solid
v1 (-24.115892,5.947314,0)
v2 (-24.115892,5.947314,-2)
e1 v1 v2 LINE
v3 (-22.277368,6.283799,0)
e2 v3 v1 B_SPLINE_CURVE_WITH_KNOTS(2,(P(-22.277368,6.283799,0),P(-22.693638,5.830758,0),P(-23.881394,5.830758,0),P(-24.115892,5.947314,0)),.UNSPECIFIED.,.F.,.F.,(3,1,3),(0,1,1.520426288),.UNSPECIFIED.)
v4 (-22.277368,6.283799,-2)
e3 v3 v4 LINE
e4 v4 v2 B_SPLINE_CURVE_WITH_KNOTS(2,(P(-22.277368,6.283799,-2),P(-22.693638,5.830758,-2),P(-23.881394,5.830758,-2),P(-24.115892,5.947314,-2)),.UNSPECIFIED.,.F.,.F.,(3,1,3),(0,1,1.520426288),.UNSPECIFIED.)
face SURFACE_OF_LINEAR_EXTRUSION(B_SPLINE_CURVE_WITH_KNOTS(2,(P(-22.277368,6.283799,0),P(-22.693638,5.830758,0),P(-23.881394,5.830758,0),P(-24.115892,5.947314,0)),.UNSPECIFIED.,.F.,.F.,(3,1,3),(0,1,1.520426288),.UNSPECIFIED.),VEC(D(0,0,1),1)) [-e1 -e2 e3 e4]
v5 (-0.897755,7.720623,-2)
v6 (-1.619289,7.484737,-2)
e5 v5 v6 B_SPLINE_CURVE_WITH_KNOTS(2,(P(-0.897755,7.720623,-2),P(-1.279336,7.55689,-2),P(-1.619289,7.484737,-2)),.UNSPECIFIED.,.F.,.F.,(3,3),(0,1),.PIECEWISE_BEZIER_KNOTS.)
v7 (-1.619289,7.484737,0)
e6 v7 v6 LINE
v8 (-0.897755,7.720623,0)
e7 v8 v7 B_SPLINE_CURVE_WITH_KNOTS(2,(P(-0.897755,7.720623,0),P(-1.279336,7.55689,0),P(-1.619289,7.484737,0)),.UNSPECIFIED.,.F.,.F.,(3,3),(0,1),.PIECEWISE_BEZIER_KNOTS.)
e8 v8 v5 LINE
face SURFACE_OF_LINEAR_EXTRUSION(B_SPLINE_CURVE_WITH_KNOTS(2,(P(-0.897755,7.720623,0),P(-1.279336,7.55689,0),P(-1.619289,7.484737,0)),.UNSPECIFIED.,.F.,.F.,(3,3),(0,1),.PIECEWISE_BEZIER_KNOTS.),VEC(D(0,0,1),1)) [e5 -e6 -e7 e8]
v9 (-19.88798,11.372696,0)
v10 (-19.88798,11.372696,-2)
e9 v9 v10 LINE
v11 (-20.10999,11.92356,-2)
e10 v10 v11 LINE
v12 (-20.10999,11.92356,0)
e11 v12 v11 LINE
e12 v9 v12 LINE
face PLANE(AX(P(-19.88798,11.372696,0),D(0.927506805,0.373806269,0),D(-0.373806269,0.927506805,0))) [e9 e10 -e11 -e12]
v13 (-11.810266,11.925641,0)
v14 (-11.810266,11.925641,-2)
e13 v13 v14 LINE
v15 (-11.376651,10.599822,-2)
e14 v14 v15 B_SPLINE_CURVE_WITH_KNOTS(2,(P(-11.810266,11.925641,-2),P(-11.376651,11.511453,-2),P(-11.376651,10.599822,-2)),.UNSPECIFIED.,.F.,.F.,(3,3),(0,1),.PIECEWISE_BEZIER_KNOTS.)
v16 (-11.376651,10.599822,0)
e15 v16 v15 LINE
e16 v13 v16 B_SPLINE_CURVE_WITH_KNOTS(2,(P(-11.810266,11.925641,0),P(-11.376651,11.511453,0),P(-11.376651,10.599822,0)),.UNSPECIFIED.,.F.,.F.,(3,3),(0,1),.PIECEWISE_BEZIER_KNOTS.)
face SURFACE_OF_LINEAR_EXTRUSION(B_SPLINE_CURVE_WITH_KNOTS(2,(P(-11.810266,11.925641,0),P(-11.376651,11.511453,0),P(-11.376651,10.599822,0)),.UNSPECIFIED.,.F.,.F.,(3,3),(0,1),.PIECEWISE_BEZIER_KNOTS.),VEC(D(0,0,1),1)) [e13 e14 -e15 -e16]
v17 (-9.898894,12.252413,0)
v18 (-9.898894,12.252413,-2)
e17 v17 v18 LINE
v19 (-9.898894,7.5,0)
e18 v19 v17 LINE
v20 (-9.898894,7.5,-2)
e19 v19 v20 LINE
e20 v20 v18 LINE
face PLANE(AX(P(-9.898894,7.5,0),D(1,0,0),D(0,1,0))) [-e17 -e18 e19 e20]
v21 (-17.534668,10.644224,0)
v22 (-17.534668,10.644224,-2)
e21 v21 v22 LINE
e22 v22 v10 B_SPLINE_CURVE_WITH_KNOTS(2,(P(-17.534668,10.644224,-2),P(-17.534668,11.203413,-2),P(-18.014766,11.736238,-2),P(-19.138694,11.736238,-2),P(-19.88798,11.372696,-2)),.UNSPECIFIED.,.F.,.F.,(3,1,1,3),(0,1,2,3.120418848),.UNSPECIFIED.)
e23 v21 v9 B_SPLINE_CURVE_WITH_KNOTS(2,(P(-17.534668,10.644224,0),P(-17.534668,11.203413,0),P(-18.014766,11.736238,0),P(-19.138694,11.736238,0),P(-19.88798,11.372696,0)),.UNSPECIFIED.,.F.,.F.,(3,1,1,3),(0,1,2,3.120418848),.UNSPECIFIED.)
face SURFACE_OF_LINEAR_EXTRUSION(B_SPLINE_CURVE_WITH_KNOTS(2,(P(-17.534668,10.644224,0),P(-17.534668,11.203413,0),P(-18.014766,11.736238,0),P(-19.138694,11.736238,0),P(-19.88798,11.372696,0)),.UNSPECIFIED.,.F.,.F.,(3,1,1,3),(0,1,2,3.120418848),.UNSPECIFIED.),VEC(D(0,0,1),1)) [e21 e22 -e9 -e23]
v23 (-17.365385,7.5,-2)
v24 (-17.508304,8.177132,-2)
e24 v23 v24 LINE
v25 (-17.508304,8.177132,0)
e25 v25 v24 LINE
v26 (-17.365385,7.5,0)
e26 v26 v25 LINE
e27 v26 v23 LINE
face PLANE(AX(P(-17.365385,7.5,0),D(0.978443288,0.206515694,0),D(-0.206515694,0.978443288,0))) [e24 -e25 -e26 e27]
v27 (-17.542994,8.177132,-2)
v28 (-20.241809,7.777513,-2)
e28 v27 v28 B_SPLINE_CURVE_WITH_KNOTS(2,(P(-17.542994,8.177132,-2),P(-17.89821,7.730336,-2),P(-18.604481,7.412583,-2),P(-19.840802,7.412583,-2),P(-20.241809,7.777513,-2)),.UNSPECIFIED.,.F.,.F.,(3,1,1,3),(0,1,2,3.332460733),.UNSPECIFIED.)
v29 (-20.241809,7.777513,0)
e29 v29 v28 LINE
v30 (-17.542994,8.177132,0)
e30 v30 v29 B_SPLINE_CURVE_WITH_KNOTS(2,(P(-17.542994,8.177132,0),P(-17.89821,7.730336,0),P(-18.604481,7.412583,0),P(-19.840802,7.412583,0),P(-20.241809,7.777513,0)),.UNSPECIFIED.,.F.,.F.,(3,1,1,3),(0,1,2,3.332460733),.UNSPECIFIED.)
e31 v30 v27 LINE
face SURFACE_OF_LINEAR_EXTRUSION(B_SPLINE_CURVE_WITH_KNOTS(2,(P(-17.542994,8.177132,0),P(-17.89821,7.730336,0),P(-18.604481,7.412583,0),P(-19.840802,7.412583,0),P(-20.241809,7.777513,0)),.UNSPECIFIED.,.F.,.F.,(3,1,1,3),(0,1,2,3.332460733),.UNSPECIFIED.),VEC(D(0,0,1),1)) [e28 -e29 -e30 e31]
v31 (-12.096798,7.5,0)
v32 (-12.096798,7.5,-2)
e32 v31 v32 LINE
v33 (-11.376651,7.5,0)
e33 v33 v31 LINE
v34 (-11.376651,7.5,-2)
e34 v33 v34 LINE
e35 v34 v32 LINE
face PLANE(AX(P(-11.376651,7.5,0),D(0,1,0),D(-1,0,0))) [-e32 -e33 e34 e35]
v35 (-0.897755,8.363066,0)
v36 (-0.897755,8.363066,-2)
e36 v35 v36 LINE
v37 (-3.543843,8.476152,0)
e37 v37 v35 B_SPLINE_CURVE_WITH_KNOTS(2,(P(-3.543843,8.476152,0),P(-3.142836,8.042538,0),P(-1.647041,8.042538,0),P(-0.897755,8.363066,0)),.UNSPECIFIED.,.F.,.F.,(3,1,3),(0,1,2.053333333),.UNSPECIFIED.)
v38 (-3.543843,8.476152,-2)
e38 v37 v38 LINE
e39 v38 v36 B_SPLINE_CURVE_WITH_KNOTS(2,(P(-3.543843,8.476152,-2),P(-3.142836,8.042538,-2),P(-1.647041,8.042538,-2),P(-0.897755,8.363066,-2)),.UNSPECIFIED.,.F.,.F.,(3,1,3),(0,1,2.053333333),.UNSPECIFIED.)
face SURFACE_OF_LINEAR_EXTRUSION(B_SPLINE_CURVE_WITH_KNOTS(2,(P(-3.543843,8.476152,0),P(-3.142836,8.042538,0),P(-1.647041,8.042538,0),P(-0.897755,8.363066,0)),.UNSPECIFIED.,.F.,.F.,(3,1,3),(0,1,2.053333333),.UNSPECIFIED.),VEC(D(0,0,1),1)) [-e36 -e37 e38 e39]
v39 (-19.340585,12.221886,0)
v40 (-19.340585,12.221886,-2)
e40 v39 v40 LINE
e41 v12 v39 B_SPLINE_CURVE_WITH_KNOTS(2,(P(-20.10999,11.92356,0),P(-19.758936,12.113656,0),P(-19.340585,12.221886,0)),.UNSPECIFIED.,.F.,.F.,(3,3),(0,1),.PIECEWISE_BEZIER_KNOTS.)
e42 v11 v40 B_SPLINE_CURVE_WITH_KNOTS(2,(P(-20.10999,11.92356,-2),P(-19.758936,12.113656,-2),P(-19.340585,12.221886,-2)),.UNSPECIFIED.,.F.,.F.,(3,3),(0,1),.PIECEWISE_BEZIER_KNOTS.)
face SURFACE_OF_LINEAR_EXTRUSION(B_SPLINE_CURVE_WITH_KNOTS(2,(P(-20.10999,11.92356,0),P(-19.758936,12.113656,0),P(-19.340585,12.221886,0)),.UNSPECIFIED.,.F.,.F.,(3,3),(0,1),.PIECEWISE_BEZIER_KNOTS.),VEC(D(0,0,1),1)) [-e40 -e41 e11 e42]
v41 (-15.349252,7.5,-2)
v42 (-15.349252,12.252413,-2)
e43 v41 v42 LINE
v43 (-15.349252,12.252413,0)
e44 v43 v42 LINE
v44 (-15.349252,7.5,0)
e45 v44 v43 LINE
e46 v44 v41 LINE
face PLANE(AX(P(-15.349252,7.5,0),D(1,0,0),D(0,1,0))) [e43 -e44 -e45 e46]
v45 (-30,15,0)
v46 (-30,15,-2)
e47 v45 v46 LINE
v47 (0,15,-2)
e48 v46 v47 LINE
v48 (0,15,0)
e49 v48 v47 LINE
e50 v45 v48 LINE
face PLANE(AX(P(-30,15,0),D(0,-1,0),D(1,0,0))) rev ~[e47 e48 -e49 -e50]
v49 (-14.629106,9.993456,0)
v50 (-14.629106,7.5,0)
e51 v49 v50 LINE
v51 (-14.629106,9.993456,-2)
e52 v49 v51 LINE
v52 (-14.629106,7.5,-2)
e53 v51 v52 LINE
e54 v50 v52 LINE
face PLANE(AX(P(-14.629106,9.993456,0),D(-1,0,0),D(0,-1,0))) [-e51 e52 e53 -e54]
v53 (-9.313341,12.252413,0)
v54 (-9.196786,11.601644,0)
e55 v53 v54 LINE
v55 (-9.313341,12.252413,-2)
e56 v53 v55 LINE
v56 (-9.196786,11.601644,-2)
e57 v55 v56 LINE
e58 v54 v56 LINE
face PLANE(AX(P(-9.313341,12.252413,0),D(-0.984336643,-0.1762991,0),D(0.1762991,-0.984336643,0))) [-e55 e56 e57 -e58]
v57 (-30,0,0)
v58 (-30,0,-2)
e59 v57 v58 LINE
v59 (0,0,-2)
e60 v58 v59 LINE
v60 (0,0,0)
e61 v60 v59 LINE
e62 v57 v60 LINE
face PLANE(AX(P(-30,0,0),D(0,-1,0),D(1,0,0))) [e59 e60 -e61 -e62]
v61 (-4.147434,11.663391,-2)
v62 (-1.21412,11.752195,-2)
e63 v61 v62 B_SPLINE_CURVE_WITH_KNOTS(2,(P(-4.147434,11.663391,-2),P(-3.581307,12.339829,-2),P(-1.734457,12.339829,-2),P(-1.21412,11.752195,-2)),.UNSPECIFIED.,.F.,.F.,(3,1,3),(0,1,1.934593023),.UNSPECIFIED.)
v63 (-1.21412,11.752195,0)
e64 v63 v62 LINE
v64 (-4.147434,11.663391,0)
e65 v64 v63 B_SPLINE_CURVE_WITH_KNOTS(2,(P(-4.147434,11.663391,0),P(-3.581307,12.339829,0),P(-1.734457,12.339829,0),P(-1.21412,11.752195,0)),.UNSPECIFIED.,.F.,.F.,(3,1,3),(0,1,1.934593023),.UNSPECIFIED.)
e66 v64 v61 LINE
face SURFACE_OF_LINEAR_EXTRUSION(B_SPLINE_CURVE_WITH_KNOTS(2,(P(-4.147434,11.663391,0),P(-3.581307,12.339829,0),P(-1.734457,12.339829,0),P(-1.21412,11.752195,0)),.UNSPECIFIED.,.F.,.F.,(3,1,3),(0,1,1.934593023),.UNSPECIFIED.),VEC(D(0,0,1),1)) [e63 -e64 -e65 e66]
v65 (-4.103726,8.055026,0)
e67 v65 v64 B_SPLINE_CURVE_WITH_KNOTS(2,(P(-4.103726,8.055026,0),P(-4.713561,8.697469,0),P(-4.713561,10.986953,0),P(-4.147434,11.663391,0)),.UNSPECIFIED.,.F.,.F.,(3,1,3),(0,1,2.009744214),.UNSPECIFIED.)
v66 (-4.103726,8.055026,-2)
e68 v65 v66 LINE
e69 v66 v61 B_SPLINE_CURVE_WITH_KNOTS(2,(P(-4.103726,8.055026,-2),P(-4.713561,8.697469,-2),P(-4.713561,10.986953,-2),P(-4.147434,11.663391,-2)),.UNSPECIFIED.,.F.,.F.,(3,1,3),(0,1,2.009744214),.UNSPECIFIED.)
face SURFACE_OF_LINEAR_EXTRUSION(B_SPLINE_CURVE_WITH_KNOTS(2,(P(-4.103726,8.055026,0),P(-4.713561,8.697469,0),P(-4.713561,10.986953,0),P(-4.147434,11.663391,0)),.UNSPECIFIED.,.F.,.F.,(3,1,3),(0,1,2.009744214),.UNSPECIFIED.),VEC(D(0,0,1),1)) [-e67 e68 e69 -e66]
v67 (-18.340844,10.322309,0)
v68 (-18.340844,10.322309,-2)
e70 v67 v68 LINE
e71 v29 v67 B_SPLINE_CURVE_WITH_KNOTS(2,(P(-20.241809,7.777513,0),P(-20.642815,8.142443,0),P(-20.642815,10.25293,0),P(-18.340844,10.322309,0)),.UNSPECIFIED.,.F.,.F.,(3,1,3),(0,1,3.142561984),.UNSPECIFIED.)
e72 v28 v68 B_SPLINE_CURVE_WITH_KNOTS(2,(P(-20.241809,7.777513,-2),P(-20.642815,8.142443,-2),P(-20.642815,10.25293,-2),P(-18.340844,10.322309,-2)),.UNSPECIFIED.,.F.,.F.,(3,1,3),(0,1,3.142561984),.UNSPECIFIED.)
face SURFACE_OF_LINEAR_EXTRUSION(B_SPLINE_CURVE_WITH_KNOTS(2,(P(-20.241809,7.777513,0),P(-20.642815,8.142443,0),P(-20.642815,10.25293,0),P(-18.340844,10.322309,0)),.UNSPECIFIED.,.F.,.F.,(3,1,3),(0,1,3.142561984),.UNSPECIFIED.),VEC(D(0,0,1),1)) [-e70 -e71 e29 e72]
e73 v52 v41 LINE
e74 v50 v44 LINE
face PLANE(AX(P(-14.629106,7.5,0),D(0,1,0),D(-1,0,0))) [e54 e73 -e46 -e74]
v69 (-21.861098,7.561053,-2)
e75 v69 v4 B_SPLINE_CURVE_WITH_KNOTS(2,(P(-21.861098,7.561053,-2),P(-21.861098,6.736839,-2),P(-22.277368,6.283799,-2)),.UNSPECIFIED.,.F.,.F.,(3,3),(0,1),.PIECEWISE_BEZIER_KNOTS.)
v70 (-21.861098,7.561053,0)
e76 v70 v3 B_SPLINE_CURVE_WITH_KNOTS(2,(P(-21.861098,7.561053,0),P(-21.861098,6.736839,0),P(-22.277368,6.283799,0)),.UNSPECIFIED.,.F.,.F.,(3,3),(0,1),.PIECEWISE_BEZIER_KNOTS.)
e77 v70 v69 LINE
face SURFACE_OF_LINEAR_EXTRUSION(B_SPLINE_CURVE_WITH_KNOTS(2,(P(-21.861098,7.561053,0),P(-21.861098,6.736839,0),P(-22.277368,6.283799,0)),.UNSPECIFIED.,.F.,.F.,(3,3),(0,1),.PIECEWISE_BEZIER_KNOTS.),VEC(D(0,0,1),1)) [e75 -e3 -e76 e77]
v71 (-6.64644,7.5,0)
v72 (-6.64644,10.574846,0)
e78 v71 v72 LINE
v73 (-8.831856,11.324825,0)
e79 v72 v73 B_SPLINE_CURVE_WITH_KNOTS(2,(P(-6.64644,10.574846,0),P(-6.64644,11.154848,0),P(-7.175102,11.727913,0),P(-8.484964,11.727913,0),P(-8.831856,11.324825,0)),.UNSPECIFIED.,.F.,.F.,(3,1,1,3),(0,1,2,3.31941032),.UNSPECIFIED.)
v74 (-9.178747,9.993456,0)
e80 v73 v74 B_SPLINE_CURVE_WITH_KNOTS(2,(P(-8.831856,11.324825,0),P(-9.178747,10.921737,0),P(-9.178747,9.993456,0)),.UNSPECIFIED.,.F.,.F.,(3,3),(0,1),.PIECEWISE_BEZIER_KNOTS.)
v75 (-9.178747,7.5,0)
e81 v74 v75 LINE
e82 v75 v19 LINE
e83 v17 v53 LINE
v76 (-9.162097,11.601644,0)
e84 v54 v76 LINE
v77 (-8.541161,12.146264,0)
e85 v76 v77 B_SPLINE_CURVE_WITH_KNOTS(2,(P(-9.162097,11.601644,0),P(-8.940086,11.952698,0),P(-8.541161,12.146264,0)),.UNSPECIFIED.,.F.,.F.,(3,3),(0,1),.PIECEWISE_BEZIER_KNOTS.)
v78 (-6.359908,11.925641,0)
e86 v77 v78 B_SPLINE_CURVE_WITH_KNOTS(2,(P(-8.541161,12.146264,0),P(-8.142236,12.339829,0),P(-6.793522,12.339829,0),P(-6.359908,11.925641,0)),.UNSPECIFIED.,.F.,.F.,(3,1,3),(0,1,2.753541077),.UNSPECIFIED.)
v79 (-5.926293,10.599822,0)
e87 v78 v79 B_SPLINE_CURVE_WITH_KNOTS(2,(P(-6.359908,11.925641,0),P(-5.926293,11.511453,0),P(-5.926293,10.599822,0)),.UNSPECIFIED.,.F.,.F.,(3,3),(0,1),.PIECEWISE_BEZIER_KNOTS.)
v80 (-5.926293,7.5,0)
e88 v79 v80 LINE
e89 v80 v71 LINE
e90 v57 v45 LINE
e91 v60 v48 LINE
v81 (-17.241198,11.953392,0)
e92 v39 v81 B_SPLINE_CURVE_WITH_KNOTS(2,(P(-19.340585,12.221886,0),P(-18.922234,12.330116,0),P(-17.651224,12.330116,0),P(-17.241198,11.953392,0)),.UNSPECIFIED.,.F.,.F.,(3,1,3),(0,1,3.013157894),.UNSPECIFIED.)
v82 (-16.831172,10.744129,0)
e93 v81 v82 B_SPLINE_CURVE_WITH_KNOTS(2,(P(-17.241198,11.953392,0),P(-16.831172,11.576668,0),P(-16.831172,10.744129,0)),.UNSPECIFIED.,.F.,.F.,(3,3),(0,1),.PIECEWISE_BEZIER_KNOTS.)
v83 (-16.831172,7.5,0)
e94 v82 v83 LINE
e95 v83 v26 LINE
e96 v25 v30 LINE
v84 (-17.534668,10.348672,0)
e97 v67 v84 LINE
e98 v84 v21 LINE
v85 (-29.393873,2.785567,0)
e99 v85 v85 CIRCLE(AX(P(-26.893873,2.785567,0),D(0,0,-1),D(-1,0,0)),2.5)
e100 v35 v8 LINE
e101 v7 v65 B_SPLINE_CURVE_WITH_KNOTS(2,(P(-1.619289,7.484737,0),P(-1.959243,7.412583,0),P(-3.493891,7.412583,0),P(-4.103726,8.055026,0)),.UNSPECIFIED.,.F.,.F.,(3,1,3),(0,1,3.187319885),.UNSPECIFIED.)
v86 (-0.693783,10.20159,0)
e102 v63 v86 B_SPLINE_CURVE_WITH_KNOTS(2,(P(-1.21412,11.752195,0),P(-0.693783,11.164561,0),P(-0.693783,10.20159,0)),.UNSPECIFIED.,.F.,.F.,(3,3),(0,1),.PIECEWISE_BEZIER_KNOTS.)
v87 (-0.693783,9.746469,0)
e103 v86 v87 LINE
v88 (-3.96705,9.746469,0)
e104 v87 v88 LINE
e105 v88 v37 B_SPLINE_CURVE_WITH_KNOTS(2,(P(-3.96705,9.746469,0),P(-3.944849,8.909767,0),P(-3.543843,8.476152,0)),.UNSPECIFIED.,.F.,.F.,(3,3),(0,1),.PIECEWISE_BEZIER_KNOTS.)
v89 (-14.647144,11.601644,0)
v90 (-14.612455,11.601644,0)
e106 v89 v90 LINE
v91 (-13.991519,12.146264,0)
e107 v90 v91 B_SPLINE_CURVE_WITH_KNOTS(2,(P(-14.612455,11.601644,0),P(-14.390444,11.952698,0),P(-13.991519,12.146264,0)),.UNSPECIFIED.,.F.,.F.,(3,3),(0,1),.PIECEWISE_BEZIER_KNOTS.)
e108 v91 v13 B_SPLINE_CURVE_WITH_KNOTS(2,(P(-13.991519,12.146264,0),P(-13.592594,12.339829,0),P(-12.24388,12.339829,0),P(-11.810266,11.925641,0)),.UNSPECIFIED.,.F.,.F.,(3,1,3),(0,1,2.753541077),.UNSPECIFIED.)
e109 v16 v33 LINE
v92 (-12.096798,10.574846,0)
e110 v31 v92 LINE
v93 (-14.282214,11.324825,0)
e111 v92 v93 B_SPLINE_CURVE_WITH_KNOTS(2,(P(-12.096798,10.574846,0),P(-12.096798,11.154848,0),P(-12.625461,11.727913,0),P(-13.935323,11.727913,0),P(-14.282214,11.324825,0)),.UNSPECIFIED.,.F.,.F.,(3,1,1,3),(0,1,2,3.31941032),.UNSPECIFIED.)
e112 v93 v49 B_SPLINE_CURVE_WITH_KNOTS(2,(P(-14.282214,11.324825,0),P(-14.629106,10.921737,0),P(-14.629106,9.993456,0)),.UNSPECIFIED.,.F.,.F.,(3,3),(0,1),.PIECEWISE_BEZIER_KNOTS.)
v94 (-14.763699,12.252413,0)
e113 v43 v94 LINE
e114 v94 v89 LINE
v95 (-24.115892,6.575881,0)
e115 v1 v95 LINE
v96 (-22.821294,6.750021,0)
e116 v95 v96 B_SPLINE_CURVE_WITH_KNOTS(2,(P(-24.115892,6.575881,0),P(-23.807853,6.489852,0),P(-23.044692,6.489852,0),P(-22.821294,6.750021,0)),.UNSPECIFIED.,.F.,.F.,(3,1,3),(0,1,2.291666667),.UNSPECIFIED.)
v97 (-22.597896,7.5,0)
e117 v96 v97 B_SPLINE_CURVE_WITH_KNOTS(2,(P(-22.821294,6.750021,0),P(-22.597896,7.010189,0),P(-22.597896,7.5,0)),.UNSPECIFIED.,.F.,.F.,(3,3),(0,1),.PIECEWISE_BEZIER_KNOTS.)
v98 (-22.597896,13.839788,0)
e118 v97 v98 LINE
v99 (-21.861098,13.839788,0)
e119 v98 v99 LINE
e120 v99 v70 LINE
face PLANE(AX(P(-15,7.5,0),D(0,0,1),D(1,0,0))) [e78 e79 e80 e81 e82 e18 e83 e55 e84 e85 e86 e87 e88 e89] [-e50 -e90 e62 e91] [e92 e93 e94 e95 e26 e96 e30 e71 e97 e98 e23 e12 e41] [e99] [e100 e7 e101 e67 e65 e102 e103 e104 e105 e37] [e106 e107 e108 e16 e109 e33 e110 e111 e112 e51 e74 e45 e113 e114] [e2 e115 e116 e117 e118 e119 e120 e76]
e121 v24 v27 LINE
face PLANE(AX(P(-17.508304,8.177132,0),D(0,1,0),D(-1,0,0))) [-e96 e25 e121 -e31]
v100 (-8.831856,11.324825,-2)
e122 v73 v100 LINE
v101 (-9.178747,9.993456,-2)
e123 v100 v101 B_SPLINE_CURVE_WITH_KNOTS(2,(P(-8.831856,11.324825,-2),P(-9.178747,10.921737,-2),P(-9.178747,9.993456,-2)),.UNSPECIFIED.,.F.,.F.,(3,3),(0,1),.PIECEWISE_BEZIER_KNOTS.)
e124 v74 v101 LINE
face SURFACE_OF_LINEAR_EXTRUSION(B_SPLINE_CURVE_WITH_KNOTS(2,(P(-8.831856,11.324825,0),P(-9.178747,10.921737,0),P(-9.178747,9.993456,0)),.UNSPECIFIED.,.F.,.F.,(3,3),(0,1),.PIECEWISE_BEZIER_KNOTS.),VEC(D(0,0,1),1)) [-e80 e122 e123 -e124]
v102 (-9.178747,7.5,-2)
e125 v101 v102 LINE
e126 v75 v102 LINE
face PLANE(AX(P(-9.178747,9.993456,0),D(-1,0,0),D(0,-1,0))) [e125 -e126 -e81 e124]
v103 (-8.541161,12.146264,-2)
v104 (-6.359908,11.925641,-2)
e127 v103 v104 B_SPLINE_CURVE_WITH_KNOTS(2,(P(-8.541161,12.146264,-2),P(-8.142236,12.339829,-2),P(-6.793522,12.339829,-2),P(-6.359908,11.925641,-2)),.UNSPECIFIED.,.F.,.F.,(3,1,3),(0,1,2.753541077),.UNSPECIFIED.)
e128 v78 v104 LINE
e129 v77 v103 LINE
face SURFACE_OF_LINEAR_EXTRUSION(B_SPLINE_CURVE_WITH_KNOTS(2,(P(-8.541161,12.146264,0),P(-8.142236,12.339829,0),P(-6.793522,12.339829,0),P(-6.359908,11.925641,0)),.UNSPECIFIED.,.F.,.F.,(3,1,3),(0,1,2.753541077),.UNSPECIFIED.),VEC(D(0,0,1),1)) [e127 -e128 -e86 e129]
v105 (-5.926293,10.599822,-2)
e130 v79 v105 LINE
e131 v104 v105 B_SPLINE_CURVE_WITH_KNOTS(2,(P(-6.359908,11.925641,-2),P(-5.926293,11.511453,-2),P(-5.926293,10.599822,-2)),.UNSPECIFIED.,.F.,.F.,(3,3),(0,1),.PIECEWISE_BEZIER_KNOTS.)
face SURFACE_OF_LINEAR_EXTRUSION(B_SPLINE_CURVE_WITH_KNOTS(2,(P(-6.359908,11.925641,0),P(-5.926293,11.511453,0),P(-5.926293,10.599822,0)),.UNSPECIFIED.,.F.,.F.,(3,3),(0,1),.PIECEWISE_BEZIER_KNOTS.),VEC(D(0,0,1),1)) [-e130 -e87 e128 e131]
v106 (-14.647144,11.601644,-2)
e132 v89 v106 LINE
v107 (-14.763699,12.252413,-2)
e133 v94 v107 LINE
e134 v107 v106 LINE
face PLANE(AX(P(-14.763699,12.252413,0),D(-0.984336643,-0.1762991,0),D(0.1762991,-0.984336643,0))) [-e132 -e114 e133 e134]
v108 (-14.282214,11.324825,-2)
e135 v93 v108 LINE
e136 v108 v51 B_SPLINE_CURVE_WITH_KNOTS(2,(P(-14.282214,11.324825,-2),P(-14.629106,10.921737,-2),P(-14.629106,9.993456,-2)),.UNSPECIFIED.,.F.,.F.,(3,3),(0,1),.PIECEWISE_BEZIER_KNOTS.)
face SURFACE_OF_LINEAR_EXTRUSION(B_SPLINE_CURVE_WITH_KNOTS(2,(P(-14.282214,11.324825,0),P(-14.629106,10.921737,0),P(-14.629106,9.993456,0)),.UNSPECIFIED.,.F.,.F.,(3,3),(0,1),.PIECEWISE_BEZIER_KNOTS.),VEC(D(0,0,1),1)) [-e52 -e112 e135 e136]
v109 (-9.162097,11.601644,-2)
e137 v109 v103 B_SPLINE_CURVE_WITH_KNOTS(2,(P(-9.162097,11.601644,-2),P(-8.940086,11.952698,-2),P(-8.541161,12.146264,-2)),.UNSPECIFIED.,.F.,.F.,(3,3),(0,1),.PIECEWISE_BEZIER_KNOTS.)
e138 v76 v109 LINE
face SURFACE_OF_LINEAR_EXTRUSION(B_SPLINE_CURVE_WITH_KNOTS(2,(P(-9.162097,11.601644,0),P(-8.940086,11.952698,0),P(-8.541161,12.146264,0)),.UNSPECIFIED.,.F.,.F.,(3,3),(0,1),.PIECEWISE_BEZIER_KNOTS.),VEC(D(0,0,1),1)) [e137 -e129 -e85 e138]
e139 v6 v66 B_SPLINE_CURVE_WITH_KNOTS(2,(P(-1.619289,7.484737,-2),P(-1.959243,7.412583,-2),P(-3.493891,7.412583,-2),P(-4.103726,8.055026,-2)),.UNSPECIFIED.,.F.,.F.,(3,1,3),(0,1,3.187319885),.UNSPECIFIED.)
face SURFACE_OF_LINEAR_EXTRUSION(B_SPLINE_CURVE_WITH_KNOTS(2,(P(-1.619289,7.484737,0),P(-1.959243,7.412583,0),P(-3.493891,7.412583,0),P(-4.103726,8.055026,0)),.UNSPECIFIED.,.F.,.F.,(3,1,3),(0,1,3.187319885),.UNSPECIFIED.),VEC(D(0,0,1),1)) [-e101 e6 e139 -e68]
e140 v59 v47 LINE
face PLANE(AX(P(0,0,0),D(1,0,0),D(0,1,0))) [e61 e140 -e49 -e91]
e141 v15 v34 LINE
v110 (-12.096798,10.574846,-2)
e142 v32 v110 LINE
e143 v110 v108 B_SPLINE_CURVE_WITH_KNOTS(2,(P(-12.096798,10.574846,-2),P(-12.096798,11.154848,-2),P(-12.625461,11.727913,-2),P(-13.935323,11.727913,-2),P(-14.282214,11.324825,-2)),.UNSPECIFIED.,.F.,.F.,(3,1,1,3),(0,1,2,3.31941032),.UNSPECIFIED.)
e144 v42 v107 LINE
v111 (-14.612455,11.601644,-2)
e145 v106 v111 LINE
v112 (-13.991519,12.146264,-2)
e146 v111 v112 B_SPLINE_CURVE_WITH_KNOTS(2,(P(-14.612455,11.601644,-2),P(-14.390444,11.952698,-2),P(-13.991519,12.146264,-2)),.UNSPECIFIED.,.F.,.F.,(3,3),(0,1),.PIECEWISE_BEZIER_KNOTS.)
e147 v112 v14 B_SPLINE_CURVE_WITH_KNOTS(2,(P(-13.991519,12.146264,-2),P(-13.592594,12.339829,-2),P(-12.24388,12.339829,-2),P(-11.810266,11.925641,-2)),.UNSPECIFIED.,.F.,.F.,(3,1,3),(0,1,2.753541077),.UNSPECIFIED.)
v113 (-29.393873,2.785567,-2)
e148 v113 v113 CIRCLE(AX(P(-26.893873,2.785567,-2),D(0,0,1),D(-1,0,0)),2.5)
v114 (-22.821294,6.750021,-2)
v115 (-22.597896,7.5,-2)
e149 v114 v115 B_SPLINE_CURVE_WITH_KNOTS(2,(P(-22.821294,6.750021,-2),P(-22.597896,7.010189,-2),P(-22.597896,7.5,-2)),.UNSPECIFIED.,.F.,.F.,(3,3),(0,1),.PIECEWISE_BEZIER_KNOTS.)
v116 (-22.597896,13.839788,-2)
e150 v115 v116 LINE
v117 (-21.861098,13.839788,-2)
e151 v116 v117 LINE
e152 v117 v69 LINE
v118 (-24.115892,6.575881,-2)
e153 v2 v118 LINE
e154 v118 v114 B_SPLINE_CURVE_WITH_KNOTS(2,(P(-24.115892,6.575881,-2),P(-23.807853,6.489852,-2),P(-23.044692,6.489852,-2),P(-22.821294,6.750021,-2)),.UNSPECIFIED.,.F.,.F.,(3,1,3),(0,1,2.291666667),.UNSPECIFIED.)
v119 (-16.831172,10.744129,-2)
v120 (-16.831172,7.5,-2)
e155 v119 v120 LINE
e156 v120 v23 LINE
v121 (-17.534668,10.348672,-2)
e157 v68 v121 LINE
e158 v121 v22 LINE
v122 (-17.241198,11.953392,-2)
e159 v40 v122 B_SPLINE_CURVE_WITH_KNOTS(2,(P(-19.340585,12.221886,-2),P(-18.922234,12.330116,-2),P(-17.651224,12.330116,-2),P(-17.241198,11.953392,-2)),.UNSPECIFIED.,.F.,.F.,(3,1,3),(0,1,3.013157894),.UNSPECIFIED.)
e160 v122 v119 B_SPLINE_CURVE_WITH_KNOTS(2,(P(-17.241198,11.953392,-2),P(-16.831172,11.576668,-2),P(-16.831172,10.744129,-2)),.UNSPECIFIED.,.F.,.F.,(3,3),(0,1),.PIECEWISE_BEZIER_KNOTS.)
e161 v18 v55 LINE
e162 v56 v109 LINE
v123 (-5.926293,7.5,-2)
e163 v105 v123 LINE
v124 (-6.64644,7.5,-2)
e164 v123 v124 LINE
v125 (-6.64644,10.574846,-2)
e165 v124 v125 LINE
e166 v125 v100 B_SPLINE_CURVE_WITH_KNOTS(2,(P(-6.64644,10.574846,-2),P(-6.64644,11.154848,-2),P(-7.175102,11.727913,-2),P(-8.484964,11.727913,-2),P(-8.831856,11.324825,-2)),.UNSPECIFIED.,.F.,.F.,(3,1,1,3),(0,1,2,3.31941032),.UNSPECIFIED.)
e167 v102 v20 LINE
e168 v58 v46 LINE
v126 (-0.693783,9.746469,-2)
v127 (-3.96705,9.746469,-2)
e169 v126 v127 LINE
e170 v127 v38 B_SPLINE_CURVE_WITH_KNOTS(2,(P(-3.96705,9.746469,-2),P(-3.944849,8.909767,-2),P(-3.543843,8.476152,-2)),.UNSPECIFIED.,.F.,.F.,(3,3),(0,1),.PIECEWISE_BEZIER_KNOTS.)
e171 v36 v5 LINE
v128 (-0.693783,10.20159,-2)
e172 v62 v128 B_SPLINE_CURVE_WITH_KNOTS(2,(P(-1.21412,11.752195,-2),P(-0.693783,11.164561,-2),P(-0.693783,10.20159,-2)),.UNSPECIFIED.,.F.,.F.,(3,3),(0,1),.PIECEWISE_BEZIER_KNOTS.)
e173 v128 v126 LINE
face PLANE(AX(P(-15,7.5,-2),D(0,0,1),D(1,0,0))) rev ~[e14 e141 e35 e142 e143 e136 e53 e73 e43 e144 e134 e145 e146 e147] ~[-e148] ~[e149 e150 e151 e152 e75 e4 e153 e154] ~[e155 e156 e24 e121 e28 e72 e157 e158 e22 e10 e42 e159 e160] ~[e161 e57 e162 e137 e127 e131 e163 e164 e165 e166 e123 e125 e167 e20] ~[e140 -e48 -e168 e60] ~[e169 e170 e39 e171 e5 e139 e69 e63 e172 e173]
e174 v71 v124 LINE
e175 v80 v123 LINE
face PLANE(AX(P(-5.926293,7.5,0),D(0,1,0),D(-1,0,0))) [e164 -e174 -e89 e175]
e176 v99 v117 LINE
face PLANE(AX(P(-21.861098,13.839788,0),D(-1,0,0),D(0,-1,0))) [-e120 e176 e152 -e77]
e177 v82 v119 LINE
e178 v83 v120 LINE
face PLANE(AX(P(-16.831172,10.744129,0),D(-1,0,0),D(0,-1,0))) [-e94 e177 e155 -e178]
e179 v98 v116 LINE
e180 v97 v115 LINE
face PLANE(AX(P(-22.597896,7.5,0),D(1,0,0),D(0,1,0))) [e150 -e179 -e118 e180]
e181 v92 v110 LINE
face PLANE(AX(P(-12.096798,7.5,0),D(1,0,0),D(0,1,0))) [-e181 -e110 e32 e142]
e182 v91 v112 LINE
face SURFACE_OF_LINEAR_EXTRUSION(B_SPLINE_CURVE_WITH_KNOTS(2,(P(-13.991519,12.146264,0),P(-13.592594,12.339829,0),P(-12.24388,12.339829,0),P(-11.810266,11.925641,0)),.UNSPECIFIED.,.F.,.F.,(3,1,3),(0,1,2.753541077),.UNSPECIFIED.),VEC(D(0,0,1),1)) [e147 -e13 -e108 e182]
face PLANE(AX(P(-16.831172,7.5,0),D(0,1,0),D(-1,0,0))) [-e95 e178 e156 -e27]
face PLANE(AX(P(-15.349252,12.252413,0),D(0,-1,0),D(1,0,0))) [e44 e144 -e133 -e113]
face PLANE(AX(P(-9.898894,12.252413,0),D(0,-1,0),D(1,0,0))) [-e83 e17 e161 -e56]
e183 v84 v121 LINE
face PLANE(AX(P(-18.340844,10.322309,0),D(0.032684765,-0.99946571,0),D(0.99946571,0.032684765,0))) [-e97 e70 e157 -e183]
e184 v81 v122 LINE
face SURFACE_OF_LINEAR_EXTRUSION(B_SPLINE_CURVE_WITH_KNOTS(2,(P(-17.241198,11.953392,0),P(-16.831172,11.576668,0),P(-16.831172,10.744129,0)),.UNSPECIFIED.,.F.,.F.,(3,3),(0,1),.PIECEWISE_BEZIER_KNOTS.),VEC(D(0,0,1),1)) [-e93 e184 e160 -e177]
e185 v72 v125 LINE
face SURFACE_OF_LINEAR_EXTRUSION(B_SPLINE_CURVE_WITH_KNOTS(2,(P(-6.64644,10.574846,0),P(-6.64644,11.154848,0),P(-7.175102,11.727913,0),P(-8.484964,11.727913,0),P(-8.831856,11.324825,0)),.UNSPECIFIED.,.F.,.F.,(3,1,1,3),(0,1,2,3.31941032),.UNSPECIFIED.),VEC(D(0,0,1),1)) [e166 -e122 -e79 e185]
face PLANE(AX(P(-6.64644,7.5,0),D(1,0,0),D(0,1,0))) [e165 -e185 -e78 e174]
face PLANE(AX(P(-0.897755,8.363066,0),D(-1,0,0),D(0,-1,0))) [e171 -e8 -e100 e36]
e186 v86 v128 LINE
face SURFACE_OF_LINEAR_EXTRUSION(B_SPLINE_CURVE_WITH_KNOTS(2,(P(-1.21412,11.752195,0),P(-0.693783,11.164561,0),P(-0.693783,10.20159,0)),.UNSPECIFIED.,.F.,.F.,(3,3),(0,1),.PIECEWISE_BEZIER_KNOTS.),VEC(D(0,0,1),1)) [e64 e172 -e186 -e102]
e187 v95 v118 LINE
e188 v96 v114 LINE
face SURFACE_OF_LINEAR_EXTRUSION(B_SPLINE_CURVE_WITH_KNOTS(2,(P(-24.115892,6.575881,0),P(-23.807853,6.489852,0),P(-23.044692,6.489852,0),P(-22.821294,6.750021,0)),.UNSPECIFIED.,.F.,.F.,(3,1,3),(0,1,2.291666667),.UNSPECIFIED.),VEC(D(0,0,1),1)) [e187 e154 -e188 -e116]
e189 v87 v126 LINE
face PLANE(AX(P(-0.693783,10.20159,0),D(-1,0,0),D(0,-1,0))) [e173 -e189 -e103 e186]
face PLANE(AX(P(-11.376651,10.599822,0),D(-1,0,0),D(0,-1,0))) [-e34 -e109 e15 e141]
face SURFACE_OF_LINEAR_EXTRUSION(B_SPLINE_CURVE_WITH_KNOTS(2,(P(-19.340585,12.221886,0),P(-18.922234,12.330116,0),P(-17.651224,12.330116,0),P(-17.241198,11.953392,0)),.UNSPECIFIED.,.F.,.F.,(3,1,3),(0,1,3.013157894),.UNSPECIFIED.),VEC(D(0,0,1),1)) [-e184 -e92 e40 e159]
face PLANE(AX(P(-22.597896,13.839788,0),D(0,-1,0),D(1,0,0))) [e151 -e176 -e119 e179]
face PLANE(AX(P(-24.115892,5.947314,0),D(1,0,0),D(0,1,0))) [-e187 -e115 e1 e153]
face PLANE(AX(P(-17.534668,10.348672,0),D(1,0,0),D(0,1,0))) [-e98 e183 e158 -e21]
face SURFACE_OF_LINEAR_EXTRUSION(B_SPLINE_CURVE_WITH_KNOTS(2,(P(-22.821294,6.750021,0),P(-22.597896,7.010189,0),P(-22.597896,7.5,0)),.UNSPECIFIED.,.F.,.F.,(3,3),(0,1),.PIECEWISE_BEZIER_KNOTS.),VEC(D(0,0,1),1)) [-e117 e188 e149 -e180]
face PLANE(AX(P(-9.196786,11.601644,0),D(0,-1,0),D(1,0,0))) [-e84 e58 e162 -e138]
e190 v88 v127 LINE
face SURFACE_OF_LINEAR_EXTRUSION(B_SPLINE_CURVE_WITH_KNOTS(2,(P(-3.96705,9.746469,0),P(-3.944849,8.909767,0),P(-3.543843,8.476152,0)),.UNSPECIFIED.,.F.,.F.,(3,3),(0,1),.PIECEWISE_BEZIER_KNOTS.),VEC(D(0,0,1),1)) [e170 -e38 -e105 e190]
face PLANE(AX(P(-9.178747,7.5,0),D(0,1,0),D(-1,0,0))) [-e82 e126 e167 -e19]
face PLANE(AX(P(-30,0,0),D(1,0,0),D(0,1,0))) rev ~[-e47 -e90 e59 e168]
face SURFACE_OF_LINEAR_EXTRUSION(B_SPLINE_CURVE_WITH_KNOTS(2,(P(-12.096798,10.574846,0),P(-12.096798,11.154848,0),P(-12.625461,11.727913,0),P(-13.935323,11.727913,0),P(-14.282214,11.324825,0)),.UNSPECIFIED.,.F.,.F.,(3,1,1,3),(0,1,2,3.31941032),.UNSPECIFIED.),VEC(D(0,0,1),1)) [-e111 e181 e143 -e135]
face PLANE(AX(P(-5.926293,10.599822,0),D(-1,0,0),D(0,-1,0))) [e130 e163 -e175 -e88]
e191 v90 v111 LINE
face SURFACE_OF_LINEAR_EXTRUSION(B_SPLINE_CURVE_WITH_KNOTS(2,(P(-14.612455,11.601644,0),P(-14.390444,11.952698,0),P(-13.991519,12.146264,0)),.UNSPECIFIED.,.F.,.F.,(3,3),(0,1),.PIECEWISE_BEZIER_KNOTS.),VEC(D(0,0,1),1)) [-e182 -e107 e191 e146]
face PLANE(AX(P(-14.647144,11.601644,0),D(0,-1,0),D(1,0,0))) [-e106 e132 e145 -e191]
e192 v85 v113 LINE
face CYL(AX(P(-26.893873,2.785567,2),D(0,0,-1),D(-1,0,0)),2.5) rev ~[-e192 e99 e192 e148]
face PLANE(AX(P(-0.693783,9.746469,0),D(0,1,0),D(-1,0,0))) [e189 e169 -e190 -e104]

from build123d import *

# Parameters (mm, degrees)
F0_W     = 30
F0_H     = 15
F1_DEPTH = 2
F3_D     = 5
F3_DEPTH = 2
F3_TIP   = 1.5021515476


with BuildPart() as f1:
    # F0 (on Top) → F1 (new body)
    with BuildSketch(Plane.XY):
        with Locations((-15, 7.5)):
            Rectangle(F0_W, F0_H)
        with BuildLine():
            add(Edge.make_bspline(
                [(-22.2773678395, 6.2837986352), (-22.6936375593, 5.8307584235), (-23.4748370669, 5.8307584235)],
                knots=[0, 0, 0, 1, 1, 1], degree=2))
            add(Edge.make_bspline(
                [(-23.4748370669, 5.8307584235), (-23.8813938266, 5.8307584235), (-24.1158924354, 5.947313945)],
                knots=[0, 0, 0, 1, 1, 1], degree=2))
            Line((-24.1158924354, 5.947313945), (-24.1158924354, 6.575881222))
            add(Edge.make_bspline(
                [(-24.1158924354, 6.575881222), (-23.8078528427, 6.4898521465), (-23.4748370669, 6.4898521465)],
                knots=[0, 0, 0, 1, 1, 1], degree=2))
            add(Edge.make_bspline(
                [(-23.4748370669, 6.4898521465), (-23.0446916897, 6.4898521465), (-22.8212936067, 6.7500207214)],
                knots=[0, 0, 0, 1, 1, 1], degree=2))
            add(Edge.make_bspline(
                [(-22.8212936067, 6.7500207214), (-22.5978955238, 7.0101892963), (-22.5978955238, 7.5)],
                knots=[0, 0, 0, 1, 1, 1], degree=2))
            Line((-22.5978955238, 7.5), (-22.5978955238, 13.839787833))
            Line((-22.5978955238, 13.839787833), (-21.8610981197, 13.839787833))
            Line((-21.8610981197, 13.839787833), (-21.8610981197, 7.5610528922))
            add(Edge.make_bspline(
                [(-21.8610981197, 7.5610528922), (-21.8610981197, 6.736838847), (-22.2773678395, 6.2837986352)],
                knots=[0, 0, 0, 1, 1, 1], degree=2))
        make_face(mode=Mode.SUBTRACT)
        with BuildLine():
            Line((-16.8311723384, 7.5), (-17.3653851455, 7.5))
            Line((-17.3653851455, 7.5), (-17.508304416, 8.1771320776))
            Line((-17.508304416, 8.1771320776), (-17.5429935593, 8.1771320776))
            add(Edge.make_bspline(
                [(-17.5429935593, 8.1771320776), (-17.8982103869, 7.7303359116), (-18.2513458659, 7.5714596352)],
                knots=[0, 0, 0, 1, 1, 1], degree=2))
            add(Edge.make_bspline(
                [(-18.2513458659, 7.5714596352), (-18.6044813449, 7.4125833588), (-19.1345314548, 7.4125833588)],
                knots=[0, 0, 0, 1, 1, 1], degree=2))
            add(Edge.make_bspline(
                [(-19.1345314548, 7.4125833588), (-19.8408024128, 7.4125833588), (-20.2418089095, 7.7775131466)],
                knots=[0, 0, 0, 1, 1, 1], degree=2))
            add(Edge.make_bspline(
                [(-20.2418089095, 7.7775131466), (-20.6428154063, 8.1424429343), (-20.6428154063, 8.8140247489)],
                knots=[0, 0, 0, 1, 1, 1], degree=2))
            add(Edge.make_bspline(
                [(-20.6428154063, 8.8140247489), (-20.6428154063, 10.2529304138), (-18.3408438557, 10.3223087004)],
                knots=[0, 0, 0, 1, 1, 1], degree=2))
            Line((-18.3408438557, 10.3223087004), (-17.5346681649, 10.3486724494))
            Line((-17.5346681649, 10.3486724494), (-17.5346681649, 10.6442239504))
            add(Edge.make_bspline(
                [(-17.5346681649, 10.6442239504), (-17.5346681649, 11.2034129407), (-17.7747170367, 11.4698255614)],
                knots=[0, 0, 0, 1, 1, 1], degree=2))
            add(Edge.make_bspline(
                [(-17.7747170367, 11.4698255614), (-18.0147659085, 11.7362381821), (-18.5448160184, 11.7362381821)],
                knots=[0, 0, 0, 1, 1, 1], degree=2))
            add(Edge.make_bspline(
                [(-18.5448160184, 11.7362381821), (-19.138694152, 11.7362381821), (-19.8879796477, 11.3726959601)],
                knots=[0, 0, 0, 1, 1, 1], degree=2))
            Line((-19.8879796477, 11.3726959601), (-20.1099901649, 11.923559556))
            add(Edge.make_bspline(
                [(-20.1099901649, 11.923559556), (-19.7589360345, 12.1136560614), (-19.3405849661, 12.2218861886)],
                knots=[0, 0, 0, 1, 1, 1], degree=2))
            add(Edge.make_bspline(
                [(-19.3405849661, 12.2218861886), (-18.9222338977, 12.3301163157), (-18.5004139149, 12.3301163157)],
                knots=[0, 0, 0, 1, 1, 1], degree=2))
            add(Edge.make_bspline(
                [(-18.5004139149, 12.3301163157), (-17.6512236865, 12.3301163157), (-17.2411980124, 11.9533922193)],
                knots=[0, 0, 0, 1, 1, 1], degree=2))
            add(Edge.make_bspline(
                [(-17.2411980124, 11.9533922193), (-16.8311723384, 11.5766681229), (-16.8311723384, 10.7441286832)],
                knots=[0, 0, 0, 1, 1, 1], degree=2))
            Line((-16.8311723384, 10.7441286832), (-16.8311723384, 7.5))
        make_face(mode=Mode.SUBTRACT)
        with BuildLine():
            Line((-11.3766514429, 7.5), (-12.0967980582, 7.5))
            Line((-12.0967980582, 7.5), (-12.0967980582, 10.5748456638))
            add(Edge.make_bspline(
                [(-12.0967980582, 10.5748456638), (-12.0967980582, 11.1548481401), (-12.3611293303, 11.4413804639)],
                knots=[0, 0, 0, 1, 1, 1], degree=2))
            add(Edge.make_bspline(
                [(-12.3611293303, 11.4413804639), (-12.6254606024, 11.7279127877), (-13.1901998556, 11.7279127877)],
                knots=[0, 0, 0, 1, 1, 1], degree=2))
            add(Edge.make_bspline(
                [(-13.1901998556, 11.7279127877), (-13.9353226541, 11.7279127877), (-14.2822140873, 11.3248249424)],
                knots=[0, 0, 0, 1, 1, 1], degree=2))
            add(Edge.make_bspline(
                [(-14.2822140873, 11.3248249424), (-14.6291055205, 10.921737097), (-14.6291055205, 9.9934556218)],
                knots=[0, 0, 0, 1, 1, 1], degree=2))
            Line((-14.6291055205, 9.9934556218), (-14.6291055205, 7.5))
            Line((-14.6291055205, 7.5), (-15.3492521358, 7.5))
            Line((-15.3492521358, 7.5), (-15.3492521358, 12.2524126347))
            Line((-15.3492521358, 12.2524126347), (-14.7636993966, 12.2524126347))
            Line((-14.7636993966, 12.2524126347), (-14.647143875, 11.601644306))
            Line((-14.647143875, 11.601644306), (-14.6124547317, 11.601644306))
            add(Edge.make_bspline(
                [(-14.6124547317, 11.601644306), (-14.3904442145, 11.9526984364), (-13.9915190663, 12.1462638562)],
                knots=[0, 0, 0, 1, 1, 1], degree=2))
            add(Edge.make_bspline(
                [(-13.9915190663, 12.1462638562), (-13.5925939181, 12.3398292759), (-13.1027832145, 12.3398292759)],
                knots=[0, 0, 0, 1, 1, 1], degree=2))
            add(Edge.make_bspline(
                [(-13.1027832145, 12.3398292759), (-12.2438800259, 12.3398292759), (-11.8102657344, 11.9256409046)],
                knots=[0, 0, 0, 1, 1, 1], degree=2))
            add(Edge.make_bspline(
                [(-11.8102657344, 11.9256409046), (-11.3766514429, 11.5114525334), (-11.3766514429, 10.599821847)],
                knots=[0, 0, 0, 1, 1, 1], degree=2))
            Line((-11.3766514429, 10.599821847), (-11.3766514429, 7.5))
        make_face(mode=Mode.SUBTRACT)
        with BuildLine():
            Line((-5.9262932446, 7.5), (-6.6464398599, 7.5))
            Line((-6.6464398599, 7.5), (-6.6464398599, 10.5748456638))
            add(Edge.make_bspline(
                [(-6.6464398599, 10.5748456638), (-6.6464398599, 11.1548481401), (-6.910771132, 11.4413804639)],
                knots=[0, 0, 0, 1, 1, 1], degree=2))
            add(Edge.make_bspline(
                [(-6.910771132, 11.4413804639), (-7.1751024041, 11.7279127877), (-7.7398416573, 11.7279127877)],
                knots=[0, 0, 0, 1, 1, 1], degree=2))
            add(Edge.make_bspline(
                [(-7.7398416573, 11.7279127877), (-8.4849644558, 11.7279127877), (-8.831855889, 11.3248249424)],
                knots=[0, 0, 0, 1, 1, 1], degree=2))
            add(Edge.make_bspline(
                [(-8.831855889, 11.3248249424), (-9.1787473222, 10.921737097), (-9.1787473222, 9.9934556218)],
                knots=[0, 0, 0, 1, 1, 1], degree=2))
            Line((-9.1787473222, 9.9934556218), (-9.1787473222, 7.5))
            Line((-9.1787473222, 7.5), (-9.8988939375, 7.5))
            Line((-9.8988939375, 7.5), (-9.8988939375, 12.2524126347))
            Line((-9.8988939375, 12.2524126347), (-9.3133411983, 12.2524126347))
            Line((-9.3133411983, 12.2524126347), (-9.1967856767, 11.601644306))
            Line((-9.1967856767, 11.601644306), (-9.1620965334, 11.601644306))
            add(Edge.make_bspline(
                [(-9.1620965334, 11.601644306), (-8.9400860162, 11.9526984364), (-8.541160868, 12.1462638562)],
                knots=[0, 0, 0, 1, 1, 1], degree=2))
            add(Edge.make_bspline(
                [(-8.541160868, 12.1462638562), (-8.1422357198, 12.3398292759), (-7.6524250162, 12.3398292759)],
                knots=[0, 0, 0, 1, 1, 1], degree=2))
            add(Edge.make_bspline(
                [(-7.6524250162, 12.3398292759), (-6.7935218276, 12.3398292759), (-6.3599075361, 11.9256409046)],
                knots=[0, 0, 0, 1, 1, 1], degree=2))
            add(Edge.make_bspline(
                [(-6.3599075361, 11.9256409046), (-5.9262932446, 11.5114525334), (-5.9262932446, 10.599821847)],
                knots=[0, 0, 0, 1, 1, 1], degree=2))
            Line((-5.9262932446, 10.599821847), (-5.9262932446, 7.5))
        make_face(mode=Mode.SUBTRACT)
        with BuildLine():
            add(Edge.make_bspline(
                [(-1.6192892101, 7.4847367769), (-1.9592428147, 7.4125833588), (-2.4407281239, 7.4125833588)],
                knots=[0, 0, 0, 1, 1, 1], degree=2))
            add(Edge.make_bspline(
                [(-2.4407281239, 7.4125833588), (-3.4938905151, 7.4125833588), (-4.1037256546, 8.0550262931)],
                knots=[0, 0, 0, 1, 1, 1], degree=2))
            add(Edge.make_bspline(
                [(-4.1037256546, 8.0550262931), (-4.7135607942, 8.6974692274), (-4.7135607942, 9.836660694)],
                knots=[0, 0, 0, 1, 1, 1], degree=2))
            add(Edge.make_bspline(
                [(-4.7135607942, 9.836660694), (-4.7135607942, 10.9869526864), (-4.1474339752, 11.6633909812)],
                knots=[0, 0, 0, 1, 1, 1], degree=2))
            add(Edge.make_bspline(
                [(-4.1474339752, 11.6633909812), (-3.5813071563, 12.3398292759), (-2.6266619321, 12.3398292759)],
                knots=[0, 0, 0, 1, 1, 1], degree=2))
            add(Edge.make_bspline(
                [(-2.6266619321, 12.3398292759), (-1.734457166, 12.3398292759), (-1.2141200162, 11.752195188)],
                knots=[0, 0, 0, 1, 1, 1], degree=2))
            add(Edge.make_bspline(
                [(-1.2141200162, 11.752195188), (-0.6937828664, 11.1645611002), (-0.6937828664, 10.2015904817)],
                knots=[0, 0, 0, 1, 1, 1], degree=2))
            Line((-0.6937828664, 10.2015904817), (-0.6937828664, 9.7464689213))
            Line((-0.6937828664, 9.7464689213), (-3.96705043, 9.7464689213))
            add(Edge.make_bspline(
                [(-3.96705043, 9.7464689213), (-3.9448493782, 8.9097667845), (-3.5438428815, 8.476152493)],
                knots=[0, 0, 0, 1, 1, 1], degree=2))
            add(Edge.make_bspline(
                [(-3.5438428815, 8.476152493), (-3.1428363847, 8.0425382015), (-2.414364375, 8.0425382015)],
                knots=[0, 0, 0, 1, 1, 1], degree=2))
            add(Edge.make_bspline(
                [(-2.414364375, 8.0425382015), (-1.6470405248, 8.0425382015), (-0.8977550291, 8.3630658858)],
                knots=[0, 0, 0, 1, 1, 1], degree=2))
            Line((-0.8977550291, 8.3630658858), (-0.8977550291, 7.7206229515))
            add(Edge.make_bspline(
                [(-0.8977550291, 7.7206229515), (-1.2793356056, 7.556890195), (-1.6192892101, 7.4847367769)],
                knots=[0, 0, 0, 1, 1, 1], degree=2))
        make_face(mode=Mode.SUBTRACT)
    extrude(amount=-F1_DEPTH)

    # F3
    with Locations(Plane.XY):
        with Locations((-26.8938727677, 2.7855671942)):
            Hole(F3_D / 2, depth=F3_DEPTH)
            with Locations((0, 0, -(F3_DEPTH + F3_TIP / 2))):  # 118° drill point
                Cone(0, F3_D / 2, F3_TIP, mode=Mode.SUBTRACT)


solid = f1.part
